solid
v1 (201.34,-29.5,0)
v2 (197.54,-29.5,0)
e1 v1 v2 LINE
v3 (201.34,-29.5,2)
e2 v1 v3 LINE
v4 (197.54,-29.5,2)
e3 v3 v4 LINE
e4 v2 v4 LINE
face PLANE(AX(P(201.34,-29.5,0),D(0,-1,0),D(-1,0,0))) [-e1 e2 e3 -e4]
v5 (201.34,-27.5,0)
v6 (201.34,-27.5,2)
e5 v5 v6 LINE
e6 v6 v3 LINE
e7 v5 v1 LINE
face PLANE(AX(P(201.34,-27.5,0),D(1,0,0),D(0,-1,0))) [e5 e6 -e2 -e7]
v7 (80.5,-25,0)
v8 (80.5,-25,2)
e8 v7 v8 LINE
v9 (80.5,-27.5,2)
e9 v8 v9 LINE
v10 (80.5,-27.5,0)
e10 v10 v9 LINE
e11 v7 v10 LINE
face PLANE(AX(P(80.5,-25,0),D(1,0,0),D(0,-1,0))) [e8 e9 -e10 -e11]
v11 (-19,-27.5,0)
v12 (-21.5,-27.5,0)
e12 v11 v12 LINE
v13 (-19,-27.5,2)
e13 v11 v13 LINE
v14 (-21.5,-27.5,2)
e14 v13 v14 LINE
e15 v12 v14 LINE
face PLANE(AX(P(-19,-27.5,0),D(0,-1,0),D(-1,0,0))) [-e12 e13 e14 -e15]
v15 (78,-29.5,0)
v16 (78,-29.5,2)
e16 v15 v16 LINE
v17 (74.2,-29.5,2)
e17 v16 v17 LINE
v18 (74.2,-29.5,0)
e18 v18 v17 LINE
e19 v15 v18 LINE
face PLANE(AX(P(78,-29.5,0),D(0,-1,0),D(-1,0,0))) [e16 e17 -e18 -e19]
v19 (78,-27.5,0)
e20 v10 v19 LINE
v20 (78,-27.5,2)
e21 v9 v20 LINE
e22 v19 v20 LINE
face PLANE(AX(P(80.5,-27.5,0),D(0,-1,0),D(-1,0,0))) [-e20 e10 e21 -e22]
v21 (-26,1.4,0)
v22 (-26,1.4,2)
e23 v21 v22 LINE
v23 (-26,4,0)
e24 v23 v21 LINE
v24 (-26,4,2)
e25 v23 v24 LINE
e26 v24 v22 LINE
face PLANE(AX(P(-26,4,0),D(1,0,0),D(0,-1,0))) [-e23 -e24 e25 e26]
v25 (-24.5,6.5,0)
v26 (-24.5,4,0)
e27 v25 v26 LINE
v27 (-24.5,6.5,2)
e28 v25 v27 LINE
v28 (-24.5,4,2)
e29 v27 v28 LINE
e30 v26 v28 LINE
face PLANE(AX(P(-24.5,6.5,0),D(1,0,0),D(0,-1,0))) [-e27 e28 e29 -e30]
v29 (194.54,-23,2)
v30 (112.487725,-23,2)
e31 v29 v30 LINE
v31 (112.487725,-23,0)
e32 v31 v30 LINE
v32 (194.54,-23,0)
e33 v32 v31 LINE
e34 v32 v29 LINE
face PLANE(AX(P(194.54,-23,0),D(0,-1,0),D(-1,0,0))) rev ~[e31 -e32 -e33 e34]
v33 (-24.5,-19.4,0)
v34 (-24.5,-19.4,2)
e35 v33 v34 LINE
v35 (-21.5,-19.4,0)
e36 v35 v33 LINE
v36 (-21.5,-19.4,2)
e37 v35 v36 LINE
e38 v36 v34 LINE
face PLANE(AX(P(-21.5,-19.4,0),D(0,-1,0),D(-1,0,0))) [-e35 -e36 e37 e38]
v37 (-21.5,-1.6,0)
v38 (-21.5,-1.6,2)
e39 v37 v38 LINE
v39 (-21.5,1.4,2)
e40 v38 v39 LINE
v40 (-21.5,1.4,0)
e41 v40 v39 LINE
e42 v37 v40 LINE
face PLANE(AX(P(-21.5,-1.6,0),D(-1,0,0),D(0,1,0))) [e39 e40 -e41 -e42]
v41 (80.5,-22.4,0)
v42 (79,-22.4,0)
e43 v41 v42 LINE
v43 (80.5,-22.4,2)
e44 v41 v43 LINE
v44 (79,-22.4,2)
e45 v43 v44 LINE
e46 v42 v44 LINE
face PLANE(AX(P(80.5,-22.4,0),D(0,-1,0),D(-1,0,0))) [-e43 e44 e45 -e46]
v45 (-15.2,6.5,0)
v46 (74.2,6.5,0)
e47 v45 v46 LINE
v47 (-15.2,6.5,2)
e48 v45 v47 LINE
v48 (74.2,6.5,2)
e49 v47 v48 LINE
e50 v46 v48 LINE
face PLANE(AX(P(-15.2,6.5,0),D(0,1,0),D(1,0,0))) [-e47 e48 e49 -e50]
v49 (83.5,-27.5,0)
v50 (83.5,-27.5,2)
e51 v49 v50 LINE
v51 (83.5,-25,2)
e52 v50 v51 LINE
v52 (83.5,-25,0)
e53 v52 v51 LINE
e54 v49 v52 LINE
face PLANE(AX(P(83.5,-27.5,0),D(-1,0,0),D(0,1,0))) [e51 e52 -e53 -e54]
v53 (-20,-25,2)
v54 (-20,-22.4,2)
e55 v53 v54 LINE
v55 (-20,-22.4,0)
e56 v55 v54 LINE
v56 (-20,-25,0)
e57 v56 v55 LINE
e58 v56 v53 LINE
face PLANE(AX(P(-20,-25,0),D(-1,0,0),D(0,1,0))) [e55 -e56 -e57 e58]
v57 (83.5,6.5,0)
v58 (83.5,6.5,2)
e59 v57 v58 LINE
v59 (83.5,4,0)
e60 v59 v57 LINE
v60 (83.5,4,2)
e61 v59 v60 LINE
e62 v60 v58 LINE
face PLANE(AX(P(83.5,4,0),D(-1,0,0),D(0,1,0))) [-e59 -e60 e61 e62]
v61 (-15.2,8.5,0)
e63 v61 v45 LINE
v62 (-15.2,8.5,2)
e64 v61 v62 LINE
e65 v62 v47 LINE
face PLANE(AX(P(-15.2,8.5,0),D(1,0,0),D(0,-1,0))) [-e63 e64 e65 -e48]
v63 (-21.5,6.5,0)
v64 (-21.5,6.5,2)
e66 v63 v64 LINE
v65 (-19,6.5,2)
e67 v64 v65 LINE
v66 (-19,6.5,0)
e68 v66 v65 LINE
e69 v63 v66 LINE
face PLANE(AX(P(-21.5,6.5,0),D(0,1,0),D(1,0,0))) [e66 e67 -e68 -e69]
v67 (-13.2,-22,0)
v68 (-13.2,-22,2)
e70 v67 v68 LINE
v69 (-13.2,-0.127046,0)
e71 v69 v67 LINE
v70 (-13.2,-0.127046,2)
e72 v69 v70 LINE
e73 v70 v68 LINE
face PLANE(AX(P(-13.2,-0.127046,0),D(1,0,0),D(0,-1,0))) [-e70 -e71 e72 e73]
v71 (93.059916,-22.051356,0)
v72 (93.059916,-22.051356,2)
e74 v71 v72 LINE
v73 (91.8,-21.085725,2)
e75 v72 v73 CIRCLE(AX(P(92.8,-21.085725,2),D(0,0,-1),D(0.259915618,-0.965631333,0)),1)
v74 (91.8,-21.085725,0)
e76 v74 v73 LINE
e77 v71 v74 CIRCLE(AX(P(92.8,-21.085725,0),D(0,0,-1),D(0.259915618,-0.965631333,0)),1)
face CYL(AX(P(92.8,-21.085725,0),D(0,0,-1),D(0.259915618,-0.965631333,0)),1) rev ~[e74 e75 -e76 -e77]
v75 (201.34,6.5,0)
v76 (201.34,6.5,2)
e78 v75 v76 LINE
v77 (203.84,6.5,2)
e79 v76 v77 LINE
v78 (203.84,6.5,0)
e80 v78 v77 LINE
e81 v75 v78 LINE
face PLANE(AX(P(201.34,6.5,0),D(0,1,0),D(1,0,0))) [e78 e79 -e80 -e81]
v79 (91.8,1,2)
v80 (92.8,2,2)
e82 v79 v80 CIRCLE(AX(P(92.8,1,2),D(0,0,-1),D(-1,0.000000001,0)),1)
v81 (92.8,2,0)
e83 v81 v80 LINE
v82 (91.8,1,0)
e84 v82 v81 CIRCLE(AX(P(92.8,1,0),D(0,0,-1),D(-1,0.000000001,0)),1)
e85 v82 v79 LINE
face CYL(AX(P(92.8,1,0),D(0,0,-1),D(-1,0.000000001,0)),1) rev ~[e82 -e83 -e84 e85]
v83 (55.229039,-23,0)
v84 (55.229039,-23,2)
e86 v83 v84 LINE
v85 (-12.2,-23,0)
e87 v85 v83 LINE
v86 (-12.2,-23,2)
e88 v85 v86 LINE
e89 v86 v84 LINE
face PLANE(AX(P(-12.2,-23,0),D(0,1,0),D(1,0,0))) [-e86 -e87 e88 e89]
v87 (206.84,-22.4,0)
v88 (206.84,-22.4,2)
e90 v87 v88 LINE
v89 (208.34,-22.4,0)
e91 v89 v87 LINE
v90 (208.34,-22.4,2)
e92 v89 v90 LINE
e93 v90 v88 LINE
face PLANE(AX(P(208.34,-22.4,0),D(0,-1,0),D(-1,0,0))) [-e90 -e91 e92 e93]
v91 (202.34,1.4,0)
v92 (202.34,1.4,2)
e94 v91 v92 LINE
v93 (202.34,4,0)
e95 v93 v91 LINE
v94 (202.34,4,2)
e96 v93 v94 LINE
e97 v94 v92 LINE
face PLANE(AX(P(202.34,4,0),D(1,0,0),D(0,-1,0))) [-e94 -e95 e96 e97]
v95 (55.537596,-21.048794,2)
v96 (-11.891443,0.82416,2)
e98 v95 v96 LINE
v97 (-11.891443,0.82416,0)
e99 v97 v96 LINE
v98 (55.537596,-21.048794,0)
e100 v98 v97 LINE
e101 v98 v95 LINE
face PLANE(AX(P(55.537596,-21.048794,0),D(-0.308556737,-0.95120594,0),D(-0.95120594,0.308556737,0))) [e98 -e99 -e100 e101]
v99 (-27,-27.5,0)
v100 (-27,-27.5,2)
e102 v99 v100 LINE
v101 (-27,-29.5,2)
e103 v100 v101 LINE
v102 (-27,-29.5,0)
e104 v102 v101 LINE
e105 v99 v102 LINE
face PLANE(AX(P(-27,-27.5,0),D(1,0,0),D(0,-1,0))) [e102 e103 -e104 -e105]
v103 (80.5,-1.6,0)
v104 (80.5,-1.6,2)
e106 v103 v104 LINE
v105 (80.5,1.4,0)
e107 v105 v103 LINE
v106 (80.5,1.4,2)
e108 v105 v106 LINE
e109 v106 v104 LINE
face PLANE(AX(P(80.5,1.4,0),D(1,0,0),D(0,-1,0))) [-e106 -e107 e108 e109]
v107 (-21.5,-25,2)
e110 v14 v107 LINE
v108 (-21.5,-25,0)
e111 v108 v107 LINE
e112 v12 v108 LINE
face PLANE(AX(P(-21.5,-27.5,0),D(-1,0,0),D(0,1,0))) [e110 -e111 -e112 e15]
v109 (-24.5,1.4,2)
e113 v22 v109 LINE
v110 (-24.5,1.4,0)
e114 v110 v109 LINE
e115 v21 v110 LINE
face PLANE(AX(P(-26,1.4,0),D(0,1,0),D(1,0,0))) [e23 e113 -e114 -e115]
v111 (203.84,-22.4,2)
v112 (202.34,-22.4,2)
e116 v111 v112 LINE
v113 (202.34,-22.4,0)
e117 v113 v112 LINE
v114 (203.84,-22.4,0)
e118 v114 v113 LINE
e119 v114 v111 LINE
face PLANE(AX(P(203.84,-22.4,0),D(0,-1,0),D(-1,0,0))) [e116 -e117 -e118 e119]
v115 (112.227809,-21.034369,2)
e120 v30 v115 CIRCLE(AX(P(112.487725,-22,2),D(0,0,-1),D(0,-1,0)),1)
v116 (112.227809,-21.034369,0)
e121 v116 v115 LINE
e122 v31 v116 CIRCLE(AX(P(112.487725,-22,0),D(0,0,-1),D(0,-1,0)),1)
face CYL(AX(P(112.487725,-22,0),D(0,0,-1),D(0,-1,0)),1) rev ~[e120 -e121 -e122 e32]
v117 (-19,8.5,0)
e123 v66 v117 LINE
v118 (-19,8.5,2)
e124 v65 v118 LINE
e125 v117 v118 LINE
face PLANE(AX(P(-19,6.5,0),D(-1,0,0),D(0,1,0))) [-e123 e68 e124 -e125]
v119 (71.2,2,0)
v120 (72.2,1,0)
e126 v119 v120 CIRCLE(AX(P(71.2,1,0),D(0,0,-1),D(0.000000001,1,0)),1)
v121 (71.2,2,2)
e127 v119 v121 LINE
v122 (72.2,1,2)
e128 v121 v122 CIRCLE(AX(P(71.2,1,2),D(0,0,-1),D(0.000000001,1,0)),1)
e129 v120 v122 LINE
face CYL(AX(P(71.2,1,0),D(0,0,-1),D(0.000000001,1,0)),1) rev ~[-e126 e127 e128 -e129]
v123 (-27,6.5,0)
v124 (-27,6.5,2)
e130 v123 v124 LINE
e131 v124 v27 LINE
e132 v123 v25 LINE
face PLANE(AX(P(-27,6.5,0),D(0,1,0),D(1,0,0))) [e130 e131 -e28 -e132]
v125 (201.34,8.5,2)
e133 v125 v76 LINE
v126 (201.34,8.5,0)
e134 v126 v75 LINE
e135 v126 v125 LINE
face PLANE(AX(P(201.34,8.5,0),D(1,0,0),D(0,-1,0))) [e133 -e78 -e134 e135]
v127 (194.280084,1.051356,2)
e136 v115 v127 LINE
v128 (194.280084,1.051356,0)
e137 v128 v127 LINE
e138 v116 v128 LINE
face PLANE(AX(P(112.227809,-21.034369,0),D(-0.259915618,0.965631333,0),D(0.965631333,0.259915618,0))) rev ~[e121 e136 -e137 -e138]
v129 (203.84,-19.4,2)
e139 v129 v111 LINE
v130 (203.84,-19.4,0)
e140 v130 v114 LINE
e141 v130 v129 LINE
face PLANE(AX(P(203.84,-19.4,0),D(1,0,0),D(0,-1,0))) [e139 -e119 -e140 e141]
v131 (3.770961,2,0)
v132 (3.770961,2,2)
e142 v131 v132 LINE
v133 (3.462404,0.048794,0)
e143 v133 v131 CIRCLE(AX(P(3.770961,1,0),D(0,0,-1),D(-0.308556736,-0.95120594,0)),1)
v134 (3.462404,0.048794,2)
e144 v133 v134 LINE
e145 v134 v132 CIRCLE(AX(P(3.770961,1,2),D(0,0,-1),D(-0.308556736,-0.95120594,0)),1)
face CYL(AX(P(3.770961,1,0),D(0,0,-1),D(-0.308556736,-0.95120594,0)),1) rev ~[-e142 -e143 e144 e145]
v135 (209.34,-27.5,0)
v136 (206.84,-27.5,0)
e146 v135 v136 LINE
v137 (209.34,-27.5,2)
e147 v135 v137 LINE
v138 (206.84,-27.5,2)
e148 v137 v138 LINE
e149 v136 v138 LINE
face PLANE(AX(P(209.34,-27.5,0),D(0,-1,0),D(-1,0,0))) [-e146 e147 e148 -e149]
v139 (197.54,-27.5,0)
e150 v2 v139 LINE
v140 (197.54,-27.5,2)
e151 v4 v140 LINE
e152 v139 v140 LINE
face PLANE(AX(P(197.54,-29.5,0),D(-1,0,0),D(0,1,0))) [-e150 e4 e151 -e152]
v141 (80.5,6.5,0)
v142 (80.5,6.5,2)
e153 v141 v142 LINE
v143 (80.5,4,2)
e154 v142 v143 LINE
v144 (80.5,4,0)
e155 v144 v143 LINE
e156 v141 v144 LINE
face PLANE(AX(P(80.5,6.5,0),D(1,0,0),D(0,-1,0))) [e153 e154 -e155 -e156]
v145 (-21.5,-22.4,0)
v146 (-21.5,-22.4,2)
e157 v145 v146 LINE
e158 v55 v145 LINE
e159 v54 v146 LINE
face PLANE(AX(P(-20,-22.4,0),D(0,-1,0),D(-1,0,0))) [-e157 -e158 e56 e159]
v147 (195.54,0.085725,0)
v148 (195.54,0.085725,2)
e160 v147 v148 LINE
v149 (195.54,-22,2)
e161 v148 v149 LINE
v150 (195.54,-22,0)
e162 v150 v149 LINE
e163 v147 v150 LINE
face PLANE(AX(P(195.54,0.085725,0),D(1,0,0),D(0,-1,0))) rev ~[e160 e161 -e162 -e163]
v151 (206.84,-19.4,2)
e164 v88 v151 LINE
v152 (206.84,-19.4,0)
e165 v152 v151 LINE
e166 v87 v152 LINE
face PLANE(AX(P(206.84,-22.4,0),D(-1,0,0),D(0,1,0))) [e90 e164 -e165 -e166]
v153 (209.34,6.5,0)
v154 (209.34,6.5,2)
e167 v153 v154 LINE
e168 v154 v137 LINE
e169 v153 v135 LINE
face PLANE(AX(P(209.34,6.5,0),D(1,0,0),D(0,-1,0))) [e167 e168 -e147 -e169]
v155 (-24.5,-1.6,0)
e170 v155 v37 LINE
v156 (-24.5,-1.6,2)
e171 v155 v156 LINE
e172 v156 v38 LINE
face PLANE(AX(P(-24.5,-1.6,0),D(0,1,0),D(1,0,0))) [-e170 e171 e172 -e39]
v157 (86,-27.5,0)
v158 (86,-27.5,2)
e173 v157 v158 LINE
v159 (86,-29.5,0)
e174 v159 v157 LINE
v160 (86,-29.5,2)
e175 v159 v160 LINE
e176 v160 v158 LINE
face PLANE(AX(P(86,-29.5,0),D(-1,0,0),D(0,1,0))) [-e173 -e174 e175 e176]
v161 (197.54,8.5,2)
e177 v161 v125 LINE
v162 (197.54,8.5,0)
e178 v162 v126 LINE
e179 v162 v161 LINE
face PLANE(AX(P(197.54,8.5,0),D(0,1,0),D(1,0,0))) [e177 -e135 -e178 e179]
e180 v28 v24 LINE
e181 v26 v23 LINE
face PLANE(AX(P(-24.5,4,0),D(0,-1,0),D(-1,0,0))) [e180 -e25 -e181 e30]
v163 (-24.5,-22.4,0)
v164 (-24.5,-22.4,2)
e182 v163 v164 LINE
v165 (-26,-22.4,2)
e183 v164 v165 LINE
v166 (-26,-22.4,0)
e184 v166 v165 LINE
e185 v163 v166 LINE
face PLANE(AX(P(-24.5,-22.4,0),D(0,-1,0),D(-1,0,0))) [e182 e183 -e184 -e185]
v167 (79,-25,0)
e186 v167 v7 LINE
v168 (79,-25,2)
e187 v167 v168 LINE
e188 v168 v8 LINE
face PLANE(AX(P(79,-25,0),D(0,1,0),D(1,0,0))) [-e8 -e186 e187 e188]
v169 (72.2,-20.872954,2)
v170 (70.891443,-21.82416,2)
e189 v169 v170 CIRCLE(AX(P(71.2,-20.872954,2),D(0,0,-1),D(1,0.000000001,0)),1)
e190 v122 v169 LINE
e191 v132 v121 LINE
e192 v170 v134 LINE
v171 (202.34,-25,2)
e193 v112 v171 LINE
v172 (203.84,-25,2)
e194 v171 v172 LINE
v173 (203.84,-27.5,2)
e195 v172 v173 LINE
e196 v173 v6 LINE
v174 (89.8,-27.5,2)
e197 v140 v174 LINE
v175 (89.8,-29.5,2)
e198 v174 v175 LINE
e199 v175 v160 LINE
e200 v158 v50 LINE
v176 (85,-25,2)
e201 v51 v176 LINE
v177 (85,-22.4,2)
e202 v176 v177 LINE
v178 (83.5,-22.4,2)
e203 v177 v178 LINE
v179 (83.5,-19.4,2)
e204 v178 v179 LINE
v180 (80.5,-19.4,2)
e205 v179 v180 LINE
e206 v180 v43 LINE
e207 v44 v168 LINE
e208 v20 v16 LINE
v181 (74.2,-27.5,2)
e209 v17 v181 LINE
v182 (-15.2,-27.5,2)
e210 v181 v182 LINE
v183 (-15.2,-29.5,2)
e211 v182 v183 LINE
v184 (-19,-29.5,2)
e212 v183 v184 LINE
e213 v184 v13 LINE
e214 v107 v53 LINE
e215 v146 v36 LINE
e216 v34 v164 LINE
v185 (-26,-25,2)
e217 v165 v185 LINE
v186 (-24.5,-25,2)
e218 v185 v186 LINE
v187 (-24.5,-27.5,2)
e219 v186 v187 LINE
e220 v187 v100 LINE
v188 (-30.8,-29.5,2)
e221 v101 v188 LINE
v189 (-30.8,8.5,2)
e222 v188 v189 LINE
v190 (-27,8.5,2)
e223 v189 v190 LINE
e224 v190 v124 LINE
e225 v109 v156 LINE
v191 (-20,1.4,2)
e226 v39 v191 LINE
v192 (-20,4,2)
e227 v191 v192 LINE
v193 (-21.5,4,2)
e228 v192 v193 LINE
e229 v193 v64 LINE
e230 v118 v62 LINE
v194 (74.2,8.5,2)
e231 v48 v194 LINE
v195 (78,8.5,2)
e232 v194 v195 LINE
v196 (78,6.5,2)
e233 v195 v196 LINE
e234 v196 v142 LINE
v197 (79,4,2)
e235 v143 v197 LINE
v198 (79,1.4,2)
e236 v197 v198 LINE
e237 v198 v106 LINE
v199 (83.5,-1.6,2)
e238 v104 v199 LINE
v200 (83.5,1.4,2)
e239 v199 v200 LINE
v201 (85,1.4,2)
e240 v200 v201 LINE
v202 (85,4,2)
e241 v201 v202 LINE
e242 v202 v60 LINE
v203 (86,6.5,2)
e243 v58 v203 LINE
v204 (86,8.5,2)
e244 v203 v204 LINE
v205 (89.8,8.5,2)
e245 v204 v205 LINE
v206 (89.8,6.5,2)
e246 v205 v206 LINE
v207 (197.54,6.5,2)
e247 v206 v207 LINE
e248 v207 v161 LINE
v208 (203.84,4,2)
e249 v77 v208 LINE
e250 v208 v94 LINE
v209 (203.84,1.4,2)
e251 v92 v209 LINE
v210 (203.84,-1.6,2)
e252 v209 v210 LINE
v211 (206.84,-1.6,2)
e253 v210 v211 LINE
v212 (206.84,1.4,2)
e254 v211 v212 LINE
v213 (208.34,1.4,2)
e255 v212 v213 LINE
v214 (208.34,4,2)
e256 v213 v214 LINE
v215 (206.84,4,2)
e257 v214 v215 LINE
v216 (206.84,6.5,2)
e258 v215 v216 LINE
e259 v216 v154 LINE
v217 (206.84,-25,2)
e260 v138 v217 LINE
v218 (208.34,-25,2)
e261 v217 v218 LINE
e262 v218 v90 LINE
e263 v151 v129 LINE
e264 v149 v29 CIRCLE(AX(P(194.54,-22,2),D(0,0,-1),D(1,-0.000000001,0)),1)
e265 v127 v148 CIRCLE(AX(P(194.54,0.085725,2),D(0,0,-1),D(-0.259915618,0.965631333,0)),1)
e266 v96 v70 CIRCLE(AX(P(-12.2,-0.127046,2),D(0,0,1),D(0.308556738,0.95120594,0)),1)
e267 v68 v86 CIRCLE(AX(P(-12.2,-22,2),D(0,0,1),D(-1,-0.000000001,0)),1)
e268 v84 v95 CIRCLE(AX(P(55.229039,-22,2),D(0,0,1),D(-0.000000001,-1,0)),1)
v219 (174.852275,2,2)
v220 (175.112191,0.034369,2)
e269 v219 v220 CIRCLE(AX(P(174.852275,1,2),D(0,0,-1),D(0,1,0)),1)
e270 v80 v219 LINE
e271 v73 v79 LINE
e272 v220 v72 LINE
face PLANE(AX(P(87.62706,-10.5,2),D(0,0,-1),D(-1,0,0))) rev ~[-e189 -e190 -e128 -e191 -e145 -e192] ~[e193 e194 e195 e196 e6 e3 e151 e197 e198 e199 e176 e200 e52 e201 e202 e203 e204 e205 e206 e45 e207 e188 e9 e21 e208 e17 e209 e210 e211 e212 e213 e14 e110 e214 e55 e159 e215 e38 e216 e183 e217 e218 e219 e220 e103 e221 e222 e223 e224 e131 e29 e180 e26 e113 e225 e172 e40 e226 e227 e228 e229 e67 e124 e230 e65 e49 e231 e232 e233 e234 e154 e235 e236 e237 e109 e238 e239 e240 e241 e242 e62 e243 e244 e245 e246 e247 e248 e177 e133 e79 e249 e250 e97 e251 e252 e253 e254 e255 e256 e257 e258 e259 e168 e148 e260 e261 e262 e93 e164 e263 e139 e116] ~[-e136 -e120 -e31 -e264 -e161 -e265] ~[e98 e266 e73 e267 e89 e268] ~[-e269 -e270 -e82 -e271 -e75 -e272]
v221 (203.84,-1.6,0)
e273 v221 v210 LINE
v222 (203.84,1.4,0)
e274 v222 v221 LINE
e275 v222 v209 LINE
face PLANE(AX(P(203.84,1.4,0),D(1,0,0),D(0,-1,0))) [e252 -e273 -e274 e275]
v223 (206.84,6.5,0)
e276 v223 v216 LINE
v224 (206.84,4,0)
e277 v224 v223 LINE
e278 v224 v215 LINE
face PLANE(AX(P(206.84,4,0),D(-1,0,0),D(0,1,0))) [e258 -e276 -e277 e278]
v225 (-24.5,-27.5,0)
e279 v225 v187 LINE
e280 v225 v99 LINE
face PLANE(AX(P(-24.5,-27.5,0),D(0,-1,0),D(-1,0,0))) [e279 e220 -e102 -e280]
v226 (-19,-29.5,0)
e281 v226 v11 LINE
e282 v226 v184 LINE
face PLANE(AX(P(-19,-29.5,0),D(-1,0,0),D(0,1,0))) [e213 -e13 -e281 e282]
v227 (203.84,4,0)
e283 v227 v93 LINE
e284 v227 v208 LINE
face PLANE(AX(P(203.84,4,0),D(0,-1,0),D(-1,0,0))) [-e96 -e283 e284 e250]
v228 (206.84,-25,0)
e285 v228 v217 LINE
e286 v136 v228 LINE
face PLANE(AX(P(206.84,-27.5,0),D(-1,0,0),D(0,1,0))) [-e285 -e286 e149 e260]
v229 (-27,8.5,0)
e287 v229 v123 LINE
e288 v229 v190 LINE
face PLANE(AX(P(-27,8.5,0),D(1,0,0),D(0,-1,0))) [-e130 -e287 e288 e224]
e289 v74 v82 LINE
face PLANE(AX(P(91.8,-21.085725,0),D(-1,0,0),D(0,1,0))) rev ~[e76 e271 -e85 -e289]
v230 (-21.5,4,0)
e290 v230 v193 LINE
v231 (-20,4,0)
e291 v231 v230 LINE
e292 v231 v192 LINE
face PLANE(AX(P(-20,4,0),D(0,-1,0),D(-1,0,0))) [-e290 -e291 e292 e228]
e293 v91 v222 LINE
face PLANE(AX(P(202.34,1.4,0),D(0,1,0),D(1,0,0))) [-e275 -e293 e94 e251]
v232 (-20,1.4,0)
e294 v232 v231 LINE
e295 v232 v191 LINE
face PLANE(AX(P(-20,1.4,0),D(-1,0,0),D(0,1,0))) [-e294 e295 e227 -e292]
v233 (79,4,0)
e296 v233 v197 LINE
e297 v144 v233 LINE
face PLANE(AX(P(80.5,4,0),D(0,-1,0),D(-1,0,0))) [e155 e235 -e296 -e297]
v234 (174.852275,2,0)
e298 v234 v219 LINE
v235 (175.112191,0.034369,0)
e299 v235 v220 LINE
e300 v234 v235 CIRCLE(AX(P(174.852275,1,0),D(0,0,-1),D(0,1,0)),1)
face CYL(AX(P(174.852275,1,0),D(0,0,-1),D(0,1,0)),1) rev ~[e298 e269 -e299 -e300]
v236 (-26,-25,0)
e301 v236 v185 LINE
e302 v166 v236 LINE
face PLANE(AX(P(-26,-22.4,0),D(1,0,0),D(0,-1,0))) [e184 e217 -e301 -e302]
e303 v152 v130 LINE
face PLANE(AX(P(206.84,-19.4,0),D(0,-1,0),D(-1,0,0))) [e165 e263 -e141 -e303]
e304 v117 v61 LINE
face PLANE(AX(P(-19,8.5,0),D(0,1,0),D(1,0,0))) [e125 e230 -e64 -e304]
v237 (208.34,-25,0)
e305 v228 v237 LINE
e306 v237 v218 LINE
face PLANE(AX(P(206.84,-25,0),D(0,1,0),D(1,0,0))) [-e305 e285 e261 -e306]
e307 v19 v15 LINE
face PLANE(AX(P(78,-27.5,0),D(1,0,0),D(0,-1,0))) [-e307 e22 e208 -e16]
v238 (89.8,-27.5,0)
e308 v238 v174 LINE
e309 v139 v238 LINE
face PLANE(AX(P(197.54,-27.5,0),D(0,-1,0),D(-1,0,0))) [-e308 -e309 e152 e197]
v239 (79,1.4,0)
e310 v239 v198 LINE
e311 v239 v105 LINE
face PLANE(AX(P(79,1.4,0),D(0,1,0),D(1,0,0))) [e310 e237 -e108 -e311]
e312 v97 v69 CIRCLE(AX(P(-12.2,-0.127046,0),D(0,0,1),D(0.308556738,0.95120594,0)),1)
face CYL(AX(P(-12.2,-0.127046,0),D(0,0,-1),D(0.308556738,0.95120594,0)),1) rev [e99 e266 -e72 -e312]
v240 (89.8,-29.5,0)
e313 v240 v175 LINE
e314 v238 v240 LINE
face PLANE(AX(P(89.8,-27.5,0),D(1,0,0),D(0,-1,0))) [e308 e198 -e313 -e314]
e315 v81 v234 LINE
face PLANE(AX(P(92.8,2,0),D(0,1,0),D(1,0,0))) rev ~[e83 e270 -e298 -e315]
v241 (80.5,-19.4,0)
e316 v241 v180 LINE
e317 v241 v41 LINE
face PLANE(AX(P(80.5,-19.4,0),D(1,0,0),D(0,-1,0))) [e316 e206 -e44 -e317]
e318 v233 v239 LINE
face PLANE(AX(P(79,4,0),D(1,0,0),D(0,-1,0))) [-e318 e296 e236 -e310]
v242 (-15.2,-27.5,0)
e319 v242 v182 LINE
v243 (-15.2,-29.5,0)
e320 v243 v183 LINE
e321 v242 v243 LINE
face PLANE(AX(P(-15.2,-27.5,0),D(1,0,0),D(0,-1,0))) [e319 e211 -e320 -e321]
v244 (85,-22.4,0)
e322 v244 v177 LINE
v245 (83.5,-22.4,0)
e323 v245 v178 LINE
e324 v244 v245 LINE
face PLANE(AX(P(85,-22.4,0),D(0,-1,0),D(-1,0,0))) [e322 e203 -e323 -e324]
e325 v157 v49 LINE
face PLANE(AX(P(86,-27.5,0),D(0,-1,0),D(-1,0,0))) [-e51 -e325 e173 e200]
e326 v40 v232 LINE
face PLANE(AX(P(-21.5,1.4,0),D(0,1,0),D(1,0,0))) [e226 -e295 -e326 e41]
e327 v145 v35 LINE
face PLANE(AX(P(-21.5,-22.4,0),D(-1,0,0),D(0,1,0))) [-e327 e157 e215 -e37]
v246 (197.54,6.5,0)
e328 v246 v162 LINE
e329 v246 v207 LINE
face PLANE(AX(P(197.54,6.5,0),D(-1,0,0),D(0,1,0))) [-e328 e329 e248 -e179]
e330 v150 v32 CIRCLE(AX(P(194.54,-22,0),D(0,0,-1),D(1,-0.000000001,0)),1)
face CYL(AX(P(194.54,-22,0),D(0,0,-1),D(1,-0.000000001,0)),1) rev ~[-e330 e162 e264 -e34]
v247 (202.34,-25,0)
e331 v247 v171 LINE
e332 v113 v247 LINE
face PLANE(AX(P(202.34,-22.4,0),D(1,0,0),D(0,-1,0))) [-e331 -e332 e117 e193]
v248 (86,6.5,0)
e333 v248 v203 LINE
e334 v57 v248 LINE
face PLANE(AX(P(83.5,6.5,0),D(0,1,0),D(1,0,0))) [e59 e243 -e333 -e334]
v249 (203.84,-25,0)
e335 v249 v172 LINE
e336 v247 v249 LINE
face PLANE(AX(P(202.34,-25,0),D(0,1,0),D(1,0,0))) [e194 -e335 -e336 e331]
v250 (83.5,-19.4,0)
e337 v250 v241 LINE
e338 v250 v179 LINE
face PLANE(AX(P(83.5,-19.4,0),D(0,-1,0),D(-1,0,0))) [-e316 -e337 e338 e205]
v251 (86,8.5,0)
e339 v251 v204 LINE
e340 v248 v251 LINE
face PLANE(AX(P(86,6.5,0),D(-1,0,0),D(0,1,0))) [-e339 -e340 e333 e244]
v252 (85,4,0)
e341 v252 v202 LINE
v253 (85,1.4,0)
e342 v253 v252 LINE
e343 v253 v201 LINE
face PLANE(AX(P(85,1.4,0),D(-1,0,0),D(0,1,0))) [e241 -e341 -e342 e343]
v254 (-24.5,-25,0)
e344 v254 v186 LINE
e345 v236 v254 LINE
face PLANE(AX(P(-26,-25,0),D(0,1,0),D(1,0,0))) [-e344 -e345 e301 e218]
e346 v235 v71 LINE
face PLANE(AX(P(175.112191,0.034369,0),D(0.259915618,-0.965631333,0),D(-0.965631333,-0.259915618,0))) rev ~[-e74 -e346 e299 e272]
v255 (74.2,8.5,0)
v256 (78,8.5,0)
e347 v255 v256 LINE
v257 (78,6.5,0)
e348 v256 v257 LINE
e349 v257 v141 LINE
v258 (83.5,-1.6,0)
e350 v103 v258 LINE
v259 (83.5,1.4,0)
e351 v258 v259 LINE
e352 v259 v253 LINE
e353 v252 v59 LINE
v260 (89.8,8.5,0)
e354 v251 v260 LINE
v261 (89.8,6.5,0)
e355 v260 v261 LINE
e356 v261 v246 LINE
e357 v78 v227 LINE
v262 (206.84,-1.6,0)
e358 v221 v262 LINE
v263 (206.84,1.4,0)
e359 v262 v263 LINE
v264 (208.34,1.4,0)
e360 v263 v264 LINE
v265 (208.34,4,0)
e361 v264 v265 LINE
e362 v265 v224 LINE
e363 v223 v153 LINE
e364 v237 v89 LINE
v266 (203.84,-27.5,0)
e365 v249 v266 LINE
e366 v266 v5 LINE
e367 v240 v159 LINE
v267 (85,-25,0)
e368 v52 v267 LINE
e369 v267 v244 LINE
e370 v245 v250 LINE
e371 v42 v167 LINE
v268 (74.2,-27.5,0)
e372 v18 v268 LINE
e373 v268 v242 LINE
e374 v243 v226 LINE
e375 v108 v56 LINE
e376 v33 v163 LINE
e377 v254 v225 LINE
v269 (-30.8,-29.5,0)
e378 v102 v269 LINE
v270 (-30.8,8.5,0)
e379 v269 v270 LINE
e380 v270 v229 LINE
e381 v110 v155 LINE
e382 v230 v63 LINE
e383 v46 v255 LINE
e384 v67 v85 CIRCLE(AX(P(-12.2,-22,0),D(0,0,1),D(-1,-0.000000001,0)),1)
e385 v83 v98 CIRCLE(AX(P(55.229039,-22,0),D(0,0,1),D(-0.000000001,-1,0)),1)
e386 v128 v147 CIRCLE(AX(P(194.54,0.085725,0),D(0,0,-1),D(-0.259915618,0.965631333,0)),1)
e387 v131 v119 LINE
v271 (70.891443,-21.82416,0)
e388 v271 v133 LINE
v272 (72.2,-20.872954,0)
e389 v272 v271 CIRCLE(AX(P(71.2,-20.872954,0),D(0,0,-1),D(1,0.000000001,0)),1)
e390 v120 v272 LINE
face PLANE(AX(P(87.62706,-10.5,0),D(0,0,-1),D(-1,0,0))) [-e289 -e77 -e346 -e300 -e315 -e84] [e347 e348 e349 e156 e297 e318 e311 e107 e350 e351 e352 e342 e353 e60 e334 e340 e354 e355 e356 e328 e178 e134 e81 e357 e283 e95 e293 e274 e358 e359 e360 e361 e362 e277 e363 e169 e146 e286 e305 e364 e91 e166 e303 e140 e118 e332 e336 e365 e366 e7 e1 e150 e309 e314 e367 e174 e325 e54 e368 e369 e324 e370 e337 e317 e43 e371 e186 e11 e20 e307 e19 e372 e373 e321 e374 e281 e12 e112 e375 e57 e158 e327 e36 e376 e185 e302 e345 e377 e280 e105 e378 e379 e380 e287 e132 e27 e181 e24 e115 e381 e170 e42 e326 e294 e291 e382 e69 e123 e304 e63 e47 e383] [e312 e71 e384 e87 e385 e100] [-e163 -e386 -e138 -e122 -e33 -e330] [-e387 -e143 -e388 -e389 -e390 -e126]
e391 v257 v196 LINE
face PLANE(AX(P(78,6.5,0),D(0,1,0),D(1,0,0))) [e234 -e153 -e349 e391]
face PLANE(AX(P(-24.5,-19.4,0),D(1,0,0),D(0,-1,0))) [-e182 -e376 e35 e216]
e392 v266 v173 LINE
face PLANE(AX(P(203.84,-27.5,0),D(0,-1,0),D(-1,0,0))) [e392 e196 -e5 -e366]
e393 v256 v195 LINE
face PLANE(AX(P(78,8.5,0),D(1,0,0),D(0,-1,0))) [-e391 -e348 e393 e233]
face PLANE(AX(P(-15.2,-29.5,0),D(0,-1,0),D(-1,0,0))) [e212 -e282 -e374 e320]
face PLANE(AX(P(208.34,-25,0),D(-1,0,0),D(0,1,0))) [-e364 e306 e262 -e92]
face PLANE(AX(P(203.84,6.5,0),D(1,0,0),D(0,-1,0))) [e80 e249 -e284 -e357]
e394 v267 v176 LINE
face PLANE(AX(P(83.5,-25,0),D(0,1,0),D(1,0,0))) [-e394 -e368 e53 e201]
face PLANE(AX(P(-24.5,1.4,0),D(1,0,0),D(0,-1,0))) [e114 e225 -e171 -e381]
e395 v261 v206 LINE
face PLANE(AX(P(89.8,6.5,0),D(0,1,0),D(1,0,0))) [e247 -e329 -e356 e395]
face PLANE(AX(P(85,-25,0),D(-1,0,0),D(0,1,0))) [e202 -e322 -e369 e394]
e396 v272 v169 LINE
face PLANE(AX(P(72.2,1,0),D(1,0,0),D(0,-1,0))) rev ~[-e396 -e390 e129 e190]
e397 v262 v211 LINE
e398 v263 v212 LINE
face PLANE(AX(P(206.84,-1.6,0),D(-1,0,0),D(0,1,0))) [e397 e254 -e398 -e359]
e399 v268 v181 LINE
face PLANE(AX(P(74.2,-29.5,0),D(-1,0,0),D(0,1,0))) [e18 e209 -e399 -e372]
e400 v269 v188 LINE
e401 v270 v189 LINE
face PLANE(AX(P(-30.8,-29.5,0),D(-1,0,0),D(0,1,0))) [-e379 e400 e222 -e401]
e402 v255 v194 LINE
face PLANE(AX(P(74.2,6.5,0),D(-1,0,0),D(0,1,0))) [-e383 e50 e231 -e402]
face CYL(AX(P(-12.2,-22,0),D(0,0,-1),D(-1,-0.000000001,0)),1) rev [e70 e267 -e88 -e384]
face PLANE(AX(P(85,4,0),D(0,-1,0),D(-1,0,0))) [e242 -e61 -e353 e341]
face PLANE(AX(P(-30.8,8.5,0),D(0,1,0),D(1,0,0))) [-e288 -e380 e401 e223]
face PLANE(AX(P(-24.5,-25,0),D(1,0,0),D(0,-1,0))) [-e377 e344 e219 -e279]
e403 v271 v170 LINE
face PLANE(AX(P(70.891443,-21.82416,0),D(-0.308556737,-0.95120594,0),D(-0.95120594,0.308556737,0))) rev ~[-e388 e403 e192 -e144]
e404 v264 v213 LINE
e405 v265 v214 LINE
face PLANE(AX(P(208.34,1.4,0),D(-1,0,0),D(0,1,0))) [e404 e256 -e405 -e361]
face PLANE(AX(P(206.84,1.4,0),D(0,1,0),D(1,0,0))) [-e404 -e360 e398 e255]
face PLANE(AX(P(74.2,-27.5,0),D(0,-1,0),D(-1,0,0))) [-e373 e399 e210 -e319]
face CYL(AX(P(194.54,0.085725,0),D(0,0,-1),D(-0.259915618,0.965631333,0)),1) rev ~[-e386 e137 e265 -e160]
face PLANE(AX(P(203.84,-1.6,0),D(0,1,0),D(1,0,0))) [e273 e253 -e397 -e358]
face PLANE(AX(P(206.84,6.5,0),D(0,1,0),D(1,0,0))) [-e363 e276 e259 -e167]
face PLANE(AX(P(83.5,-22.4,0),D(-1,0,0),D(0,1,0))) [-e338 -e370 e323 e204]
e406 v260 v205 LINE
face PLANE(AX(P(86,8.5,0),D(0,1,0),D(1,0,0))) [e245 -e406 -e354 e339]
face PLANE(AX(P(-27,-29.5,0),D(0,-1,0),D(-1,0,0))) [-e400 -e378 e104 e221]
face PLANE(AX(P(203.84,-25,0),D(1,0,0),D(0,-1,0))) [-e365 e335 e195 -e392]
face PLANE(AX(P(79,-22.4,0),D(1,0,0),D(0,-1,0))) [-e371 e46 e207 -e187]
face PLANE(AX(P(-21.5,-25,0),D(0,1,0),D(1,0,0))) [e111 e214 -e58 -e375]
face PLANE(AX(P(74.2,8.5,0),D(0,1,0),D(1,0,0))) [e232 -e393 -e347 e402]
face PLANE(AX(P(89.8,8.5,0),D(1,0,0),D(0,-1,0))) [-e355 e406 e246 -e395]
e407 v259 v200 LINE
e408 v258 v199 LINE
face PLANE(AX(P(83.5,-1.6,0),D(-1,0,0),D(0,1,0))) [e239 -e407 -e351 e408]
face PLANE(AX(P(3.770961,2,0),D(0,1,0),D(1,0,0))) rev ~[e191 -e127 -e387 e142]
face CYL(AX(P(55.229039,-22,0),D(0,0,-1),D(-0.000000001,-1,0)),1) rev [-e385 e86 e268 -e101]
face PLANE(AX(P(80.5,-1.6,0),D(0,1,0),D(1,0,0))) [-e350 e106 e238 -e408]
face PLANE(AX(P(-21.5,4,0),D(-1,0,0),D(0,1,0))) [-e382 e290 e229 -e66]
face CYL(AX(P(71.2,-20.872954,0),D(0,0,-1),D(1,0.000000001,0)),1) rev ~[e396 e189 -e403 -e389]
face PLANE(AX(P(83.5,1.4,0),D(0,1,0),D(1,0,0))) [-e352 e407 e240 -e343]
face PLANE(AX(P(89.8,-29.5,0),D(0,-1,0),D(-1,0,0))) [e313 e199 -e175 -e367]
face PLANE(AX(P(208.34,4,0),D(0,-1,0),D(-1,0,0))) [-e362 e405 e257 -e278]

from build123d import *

# Parameters (mm, degrees)
EXTRUDE_1_DEPTH = 2


with BuildPart() as part:
    # 草图2 → 凸台-拉伸1 (new body)
    with BuildSketch(Plane.XY):
        Polygon((-15.2, 6.5), (74.2, 6.5), (74.2, 8.5), (78, 8.5), (78, 6.5), (80.5, 6.5), (80.5, 4), (79, 4), (79, 1.4), (80.5, 1.4), (80.5, -1.6), (83.5, -1.6), (83.5, 1.4), (85, 1.4), (85, 4), (83.5, 4), (83.5, 6.5), (86, 6.5), (86, 8.5), (89.8, 8.5), (89.8, 6.5), (197.54, 6.5), (197.54, 8.5), (201.34, 8.5), (201.34, 6.5), (203.84, 6.5), (203.84, 4), (202.34, 4), (202.34, 1.4), (203.84, 1.4), (203.84, -1.6), (206.84, -1.6), (206.84, 1.4), (208.34, 1.4), (208.34, 4), (206.84, 4), (206.84, 6.5), (209.34, 6.5), (209.34, -27.5), (206.84, -27.5), (206.84, -25), (208.34, -25), (208.34, -22.4), (206.84, -22.4), (206.84, -19.4), (203.84, -19.4), (203.84, -22.4), (202.34, -22.4), (202.34, -25), (203.84, -25), (203.84, -27.5), (201.34, -27.5), (201.34, -29.5), (197.54, -29.5), (197.54, -27.5), (89.8, -27.5), (89.8, -29.5), (86, -29.5), (86, -27.5), (83.5, -27.5), (83.5, -25), (85, -25), (85, -22.4), (83.5, -22.4), (83.5, -19.4), (80.5, -19.4), (80.5, -22.4), (79, -22.4), (79, -25), (80.5, -25), (80.5, -27.5), (78, -27.5), (78, -29.5), (74.2, -29.5), (74.2, -27.5), (-15.2, -27.5), (-15.2, -29.5), (-19, -29.5), (-19, -27.5), (-21.5, -27.5), (-21.5, -25), (-20, -25), (-20, -22.4), (-21.5, -22.4), (-21.5, -19.4), (-24.5, -19.4), (-24.5, -22.4), (-26, -22.4), (-26, -25), (-24.5, -25), (-24.5, -27.5), (-27, -27.5), (-27, -29.5), (-30.8, -29.5), (-30.8, 8.5), (-27, 8.5), (-27, 6.5), (-24.5, 6.5), (-24.5, 4), (-26, 4), (-26, 1.4), (-24.5, 1.4), (-24.5, -1.6), (-21.5, -1.6), (-21.5, 1.4), (-20, 1.4), (-20, 4), (-21.5, 4), (-21.5, 6.5), (-19, 6.5), (-19, 8.5), (-15.2, 8.5), align=None)
        with BuildLine():
            Line((3.770961007, 2), (71.2, 2))
            ThreePointArc((71.2, 2), (71.907106781, 1.707106781), (72.2, 1))
            Line((72.2, 1), (72.2, -20.872954483))
            ThreePointArc((72.2, -20.872954483), (71.787980979, -21.681829238), (70.891443263, -21.824160423))
            Line((70.891443263, -21.824160423), (3.46240427, 0.04879406))
            ThreePointArc((3.46240427, 0.04879406), (2.783234845, 1.156195487), (3.770961007, 2))
        make_face(mode=Mode.SUBTRACT)
        with BuildLine():
            Line((92.8, 2), (174.852275232, 2))
            ThreePointArc((174.852275232, 2), (175.843645832, 1.131089029), (175.11219085, 0.034368667))
            Line((175.11219085, 0.034368667), (93.059915618, -22.051356057))
            ThreePointArc((93.059915618, -22.051356057), (92.191689067, -21.879423539), (91.8, -21.085724724))
            Line((91.8, -21.085724724), (91.8, 1))
            ThreePointArc((91.8, 1), (92.092893219, 1.707106781), (92.8, 2))
        make_face(mode=Mode.SUBTRACT)
        with BuildLine():
            Line((112.22780915, -21.034368667), (194.280084382, 1.051356057))
            ThreePointArc((194.280084382, 1.051356057), (195.148310933, 0.879423539), (195.54, 0.085724724))
            Line((195.54, 0.085724724), (195.54, -22))
            ThreePointArc((195.54, -22), (195.247106781, -22.707106781), (194.54, -23))
            Line((194.54, -23), (112.487724768, -23))
            ThreePointArc((112.487724768, -23), (111.496354168, -22.131089029), (112.22780915, -21.034368667))
        make_face(mode=Mode.SUBTRACT)
        with BuildLine():
            Line((-13.2, -0.127045517), (-13.2, -22))
            ThreePointArc((-13.2, -22), (-12.907106781, -22.707106781), (-12.2, -23))
            Line((-12.2, -23), (55.229038993, -23))
            ThreePointArc((55.229038993, -23), (56.216765155, -22.156195487), (55.53759573, -21.04879406))
            Line((55.53759573, -21.04879406), (-11.891443263, 0.824160423))
            ThreePointArc((-11.891443263, 0.824160423), (-12.787980979, 0.681829238), (-13.2, -0.127045517))
        make_face(mode=Mode.SUBTRACT)
    extrude(amount=EXTRUDE_1_DEPTH)


solid = part.part
